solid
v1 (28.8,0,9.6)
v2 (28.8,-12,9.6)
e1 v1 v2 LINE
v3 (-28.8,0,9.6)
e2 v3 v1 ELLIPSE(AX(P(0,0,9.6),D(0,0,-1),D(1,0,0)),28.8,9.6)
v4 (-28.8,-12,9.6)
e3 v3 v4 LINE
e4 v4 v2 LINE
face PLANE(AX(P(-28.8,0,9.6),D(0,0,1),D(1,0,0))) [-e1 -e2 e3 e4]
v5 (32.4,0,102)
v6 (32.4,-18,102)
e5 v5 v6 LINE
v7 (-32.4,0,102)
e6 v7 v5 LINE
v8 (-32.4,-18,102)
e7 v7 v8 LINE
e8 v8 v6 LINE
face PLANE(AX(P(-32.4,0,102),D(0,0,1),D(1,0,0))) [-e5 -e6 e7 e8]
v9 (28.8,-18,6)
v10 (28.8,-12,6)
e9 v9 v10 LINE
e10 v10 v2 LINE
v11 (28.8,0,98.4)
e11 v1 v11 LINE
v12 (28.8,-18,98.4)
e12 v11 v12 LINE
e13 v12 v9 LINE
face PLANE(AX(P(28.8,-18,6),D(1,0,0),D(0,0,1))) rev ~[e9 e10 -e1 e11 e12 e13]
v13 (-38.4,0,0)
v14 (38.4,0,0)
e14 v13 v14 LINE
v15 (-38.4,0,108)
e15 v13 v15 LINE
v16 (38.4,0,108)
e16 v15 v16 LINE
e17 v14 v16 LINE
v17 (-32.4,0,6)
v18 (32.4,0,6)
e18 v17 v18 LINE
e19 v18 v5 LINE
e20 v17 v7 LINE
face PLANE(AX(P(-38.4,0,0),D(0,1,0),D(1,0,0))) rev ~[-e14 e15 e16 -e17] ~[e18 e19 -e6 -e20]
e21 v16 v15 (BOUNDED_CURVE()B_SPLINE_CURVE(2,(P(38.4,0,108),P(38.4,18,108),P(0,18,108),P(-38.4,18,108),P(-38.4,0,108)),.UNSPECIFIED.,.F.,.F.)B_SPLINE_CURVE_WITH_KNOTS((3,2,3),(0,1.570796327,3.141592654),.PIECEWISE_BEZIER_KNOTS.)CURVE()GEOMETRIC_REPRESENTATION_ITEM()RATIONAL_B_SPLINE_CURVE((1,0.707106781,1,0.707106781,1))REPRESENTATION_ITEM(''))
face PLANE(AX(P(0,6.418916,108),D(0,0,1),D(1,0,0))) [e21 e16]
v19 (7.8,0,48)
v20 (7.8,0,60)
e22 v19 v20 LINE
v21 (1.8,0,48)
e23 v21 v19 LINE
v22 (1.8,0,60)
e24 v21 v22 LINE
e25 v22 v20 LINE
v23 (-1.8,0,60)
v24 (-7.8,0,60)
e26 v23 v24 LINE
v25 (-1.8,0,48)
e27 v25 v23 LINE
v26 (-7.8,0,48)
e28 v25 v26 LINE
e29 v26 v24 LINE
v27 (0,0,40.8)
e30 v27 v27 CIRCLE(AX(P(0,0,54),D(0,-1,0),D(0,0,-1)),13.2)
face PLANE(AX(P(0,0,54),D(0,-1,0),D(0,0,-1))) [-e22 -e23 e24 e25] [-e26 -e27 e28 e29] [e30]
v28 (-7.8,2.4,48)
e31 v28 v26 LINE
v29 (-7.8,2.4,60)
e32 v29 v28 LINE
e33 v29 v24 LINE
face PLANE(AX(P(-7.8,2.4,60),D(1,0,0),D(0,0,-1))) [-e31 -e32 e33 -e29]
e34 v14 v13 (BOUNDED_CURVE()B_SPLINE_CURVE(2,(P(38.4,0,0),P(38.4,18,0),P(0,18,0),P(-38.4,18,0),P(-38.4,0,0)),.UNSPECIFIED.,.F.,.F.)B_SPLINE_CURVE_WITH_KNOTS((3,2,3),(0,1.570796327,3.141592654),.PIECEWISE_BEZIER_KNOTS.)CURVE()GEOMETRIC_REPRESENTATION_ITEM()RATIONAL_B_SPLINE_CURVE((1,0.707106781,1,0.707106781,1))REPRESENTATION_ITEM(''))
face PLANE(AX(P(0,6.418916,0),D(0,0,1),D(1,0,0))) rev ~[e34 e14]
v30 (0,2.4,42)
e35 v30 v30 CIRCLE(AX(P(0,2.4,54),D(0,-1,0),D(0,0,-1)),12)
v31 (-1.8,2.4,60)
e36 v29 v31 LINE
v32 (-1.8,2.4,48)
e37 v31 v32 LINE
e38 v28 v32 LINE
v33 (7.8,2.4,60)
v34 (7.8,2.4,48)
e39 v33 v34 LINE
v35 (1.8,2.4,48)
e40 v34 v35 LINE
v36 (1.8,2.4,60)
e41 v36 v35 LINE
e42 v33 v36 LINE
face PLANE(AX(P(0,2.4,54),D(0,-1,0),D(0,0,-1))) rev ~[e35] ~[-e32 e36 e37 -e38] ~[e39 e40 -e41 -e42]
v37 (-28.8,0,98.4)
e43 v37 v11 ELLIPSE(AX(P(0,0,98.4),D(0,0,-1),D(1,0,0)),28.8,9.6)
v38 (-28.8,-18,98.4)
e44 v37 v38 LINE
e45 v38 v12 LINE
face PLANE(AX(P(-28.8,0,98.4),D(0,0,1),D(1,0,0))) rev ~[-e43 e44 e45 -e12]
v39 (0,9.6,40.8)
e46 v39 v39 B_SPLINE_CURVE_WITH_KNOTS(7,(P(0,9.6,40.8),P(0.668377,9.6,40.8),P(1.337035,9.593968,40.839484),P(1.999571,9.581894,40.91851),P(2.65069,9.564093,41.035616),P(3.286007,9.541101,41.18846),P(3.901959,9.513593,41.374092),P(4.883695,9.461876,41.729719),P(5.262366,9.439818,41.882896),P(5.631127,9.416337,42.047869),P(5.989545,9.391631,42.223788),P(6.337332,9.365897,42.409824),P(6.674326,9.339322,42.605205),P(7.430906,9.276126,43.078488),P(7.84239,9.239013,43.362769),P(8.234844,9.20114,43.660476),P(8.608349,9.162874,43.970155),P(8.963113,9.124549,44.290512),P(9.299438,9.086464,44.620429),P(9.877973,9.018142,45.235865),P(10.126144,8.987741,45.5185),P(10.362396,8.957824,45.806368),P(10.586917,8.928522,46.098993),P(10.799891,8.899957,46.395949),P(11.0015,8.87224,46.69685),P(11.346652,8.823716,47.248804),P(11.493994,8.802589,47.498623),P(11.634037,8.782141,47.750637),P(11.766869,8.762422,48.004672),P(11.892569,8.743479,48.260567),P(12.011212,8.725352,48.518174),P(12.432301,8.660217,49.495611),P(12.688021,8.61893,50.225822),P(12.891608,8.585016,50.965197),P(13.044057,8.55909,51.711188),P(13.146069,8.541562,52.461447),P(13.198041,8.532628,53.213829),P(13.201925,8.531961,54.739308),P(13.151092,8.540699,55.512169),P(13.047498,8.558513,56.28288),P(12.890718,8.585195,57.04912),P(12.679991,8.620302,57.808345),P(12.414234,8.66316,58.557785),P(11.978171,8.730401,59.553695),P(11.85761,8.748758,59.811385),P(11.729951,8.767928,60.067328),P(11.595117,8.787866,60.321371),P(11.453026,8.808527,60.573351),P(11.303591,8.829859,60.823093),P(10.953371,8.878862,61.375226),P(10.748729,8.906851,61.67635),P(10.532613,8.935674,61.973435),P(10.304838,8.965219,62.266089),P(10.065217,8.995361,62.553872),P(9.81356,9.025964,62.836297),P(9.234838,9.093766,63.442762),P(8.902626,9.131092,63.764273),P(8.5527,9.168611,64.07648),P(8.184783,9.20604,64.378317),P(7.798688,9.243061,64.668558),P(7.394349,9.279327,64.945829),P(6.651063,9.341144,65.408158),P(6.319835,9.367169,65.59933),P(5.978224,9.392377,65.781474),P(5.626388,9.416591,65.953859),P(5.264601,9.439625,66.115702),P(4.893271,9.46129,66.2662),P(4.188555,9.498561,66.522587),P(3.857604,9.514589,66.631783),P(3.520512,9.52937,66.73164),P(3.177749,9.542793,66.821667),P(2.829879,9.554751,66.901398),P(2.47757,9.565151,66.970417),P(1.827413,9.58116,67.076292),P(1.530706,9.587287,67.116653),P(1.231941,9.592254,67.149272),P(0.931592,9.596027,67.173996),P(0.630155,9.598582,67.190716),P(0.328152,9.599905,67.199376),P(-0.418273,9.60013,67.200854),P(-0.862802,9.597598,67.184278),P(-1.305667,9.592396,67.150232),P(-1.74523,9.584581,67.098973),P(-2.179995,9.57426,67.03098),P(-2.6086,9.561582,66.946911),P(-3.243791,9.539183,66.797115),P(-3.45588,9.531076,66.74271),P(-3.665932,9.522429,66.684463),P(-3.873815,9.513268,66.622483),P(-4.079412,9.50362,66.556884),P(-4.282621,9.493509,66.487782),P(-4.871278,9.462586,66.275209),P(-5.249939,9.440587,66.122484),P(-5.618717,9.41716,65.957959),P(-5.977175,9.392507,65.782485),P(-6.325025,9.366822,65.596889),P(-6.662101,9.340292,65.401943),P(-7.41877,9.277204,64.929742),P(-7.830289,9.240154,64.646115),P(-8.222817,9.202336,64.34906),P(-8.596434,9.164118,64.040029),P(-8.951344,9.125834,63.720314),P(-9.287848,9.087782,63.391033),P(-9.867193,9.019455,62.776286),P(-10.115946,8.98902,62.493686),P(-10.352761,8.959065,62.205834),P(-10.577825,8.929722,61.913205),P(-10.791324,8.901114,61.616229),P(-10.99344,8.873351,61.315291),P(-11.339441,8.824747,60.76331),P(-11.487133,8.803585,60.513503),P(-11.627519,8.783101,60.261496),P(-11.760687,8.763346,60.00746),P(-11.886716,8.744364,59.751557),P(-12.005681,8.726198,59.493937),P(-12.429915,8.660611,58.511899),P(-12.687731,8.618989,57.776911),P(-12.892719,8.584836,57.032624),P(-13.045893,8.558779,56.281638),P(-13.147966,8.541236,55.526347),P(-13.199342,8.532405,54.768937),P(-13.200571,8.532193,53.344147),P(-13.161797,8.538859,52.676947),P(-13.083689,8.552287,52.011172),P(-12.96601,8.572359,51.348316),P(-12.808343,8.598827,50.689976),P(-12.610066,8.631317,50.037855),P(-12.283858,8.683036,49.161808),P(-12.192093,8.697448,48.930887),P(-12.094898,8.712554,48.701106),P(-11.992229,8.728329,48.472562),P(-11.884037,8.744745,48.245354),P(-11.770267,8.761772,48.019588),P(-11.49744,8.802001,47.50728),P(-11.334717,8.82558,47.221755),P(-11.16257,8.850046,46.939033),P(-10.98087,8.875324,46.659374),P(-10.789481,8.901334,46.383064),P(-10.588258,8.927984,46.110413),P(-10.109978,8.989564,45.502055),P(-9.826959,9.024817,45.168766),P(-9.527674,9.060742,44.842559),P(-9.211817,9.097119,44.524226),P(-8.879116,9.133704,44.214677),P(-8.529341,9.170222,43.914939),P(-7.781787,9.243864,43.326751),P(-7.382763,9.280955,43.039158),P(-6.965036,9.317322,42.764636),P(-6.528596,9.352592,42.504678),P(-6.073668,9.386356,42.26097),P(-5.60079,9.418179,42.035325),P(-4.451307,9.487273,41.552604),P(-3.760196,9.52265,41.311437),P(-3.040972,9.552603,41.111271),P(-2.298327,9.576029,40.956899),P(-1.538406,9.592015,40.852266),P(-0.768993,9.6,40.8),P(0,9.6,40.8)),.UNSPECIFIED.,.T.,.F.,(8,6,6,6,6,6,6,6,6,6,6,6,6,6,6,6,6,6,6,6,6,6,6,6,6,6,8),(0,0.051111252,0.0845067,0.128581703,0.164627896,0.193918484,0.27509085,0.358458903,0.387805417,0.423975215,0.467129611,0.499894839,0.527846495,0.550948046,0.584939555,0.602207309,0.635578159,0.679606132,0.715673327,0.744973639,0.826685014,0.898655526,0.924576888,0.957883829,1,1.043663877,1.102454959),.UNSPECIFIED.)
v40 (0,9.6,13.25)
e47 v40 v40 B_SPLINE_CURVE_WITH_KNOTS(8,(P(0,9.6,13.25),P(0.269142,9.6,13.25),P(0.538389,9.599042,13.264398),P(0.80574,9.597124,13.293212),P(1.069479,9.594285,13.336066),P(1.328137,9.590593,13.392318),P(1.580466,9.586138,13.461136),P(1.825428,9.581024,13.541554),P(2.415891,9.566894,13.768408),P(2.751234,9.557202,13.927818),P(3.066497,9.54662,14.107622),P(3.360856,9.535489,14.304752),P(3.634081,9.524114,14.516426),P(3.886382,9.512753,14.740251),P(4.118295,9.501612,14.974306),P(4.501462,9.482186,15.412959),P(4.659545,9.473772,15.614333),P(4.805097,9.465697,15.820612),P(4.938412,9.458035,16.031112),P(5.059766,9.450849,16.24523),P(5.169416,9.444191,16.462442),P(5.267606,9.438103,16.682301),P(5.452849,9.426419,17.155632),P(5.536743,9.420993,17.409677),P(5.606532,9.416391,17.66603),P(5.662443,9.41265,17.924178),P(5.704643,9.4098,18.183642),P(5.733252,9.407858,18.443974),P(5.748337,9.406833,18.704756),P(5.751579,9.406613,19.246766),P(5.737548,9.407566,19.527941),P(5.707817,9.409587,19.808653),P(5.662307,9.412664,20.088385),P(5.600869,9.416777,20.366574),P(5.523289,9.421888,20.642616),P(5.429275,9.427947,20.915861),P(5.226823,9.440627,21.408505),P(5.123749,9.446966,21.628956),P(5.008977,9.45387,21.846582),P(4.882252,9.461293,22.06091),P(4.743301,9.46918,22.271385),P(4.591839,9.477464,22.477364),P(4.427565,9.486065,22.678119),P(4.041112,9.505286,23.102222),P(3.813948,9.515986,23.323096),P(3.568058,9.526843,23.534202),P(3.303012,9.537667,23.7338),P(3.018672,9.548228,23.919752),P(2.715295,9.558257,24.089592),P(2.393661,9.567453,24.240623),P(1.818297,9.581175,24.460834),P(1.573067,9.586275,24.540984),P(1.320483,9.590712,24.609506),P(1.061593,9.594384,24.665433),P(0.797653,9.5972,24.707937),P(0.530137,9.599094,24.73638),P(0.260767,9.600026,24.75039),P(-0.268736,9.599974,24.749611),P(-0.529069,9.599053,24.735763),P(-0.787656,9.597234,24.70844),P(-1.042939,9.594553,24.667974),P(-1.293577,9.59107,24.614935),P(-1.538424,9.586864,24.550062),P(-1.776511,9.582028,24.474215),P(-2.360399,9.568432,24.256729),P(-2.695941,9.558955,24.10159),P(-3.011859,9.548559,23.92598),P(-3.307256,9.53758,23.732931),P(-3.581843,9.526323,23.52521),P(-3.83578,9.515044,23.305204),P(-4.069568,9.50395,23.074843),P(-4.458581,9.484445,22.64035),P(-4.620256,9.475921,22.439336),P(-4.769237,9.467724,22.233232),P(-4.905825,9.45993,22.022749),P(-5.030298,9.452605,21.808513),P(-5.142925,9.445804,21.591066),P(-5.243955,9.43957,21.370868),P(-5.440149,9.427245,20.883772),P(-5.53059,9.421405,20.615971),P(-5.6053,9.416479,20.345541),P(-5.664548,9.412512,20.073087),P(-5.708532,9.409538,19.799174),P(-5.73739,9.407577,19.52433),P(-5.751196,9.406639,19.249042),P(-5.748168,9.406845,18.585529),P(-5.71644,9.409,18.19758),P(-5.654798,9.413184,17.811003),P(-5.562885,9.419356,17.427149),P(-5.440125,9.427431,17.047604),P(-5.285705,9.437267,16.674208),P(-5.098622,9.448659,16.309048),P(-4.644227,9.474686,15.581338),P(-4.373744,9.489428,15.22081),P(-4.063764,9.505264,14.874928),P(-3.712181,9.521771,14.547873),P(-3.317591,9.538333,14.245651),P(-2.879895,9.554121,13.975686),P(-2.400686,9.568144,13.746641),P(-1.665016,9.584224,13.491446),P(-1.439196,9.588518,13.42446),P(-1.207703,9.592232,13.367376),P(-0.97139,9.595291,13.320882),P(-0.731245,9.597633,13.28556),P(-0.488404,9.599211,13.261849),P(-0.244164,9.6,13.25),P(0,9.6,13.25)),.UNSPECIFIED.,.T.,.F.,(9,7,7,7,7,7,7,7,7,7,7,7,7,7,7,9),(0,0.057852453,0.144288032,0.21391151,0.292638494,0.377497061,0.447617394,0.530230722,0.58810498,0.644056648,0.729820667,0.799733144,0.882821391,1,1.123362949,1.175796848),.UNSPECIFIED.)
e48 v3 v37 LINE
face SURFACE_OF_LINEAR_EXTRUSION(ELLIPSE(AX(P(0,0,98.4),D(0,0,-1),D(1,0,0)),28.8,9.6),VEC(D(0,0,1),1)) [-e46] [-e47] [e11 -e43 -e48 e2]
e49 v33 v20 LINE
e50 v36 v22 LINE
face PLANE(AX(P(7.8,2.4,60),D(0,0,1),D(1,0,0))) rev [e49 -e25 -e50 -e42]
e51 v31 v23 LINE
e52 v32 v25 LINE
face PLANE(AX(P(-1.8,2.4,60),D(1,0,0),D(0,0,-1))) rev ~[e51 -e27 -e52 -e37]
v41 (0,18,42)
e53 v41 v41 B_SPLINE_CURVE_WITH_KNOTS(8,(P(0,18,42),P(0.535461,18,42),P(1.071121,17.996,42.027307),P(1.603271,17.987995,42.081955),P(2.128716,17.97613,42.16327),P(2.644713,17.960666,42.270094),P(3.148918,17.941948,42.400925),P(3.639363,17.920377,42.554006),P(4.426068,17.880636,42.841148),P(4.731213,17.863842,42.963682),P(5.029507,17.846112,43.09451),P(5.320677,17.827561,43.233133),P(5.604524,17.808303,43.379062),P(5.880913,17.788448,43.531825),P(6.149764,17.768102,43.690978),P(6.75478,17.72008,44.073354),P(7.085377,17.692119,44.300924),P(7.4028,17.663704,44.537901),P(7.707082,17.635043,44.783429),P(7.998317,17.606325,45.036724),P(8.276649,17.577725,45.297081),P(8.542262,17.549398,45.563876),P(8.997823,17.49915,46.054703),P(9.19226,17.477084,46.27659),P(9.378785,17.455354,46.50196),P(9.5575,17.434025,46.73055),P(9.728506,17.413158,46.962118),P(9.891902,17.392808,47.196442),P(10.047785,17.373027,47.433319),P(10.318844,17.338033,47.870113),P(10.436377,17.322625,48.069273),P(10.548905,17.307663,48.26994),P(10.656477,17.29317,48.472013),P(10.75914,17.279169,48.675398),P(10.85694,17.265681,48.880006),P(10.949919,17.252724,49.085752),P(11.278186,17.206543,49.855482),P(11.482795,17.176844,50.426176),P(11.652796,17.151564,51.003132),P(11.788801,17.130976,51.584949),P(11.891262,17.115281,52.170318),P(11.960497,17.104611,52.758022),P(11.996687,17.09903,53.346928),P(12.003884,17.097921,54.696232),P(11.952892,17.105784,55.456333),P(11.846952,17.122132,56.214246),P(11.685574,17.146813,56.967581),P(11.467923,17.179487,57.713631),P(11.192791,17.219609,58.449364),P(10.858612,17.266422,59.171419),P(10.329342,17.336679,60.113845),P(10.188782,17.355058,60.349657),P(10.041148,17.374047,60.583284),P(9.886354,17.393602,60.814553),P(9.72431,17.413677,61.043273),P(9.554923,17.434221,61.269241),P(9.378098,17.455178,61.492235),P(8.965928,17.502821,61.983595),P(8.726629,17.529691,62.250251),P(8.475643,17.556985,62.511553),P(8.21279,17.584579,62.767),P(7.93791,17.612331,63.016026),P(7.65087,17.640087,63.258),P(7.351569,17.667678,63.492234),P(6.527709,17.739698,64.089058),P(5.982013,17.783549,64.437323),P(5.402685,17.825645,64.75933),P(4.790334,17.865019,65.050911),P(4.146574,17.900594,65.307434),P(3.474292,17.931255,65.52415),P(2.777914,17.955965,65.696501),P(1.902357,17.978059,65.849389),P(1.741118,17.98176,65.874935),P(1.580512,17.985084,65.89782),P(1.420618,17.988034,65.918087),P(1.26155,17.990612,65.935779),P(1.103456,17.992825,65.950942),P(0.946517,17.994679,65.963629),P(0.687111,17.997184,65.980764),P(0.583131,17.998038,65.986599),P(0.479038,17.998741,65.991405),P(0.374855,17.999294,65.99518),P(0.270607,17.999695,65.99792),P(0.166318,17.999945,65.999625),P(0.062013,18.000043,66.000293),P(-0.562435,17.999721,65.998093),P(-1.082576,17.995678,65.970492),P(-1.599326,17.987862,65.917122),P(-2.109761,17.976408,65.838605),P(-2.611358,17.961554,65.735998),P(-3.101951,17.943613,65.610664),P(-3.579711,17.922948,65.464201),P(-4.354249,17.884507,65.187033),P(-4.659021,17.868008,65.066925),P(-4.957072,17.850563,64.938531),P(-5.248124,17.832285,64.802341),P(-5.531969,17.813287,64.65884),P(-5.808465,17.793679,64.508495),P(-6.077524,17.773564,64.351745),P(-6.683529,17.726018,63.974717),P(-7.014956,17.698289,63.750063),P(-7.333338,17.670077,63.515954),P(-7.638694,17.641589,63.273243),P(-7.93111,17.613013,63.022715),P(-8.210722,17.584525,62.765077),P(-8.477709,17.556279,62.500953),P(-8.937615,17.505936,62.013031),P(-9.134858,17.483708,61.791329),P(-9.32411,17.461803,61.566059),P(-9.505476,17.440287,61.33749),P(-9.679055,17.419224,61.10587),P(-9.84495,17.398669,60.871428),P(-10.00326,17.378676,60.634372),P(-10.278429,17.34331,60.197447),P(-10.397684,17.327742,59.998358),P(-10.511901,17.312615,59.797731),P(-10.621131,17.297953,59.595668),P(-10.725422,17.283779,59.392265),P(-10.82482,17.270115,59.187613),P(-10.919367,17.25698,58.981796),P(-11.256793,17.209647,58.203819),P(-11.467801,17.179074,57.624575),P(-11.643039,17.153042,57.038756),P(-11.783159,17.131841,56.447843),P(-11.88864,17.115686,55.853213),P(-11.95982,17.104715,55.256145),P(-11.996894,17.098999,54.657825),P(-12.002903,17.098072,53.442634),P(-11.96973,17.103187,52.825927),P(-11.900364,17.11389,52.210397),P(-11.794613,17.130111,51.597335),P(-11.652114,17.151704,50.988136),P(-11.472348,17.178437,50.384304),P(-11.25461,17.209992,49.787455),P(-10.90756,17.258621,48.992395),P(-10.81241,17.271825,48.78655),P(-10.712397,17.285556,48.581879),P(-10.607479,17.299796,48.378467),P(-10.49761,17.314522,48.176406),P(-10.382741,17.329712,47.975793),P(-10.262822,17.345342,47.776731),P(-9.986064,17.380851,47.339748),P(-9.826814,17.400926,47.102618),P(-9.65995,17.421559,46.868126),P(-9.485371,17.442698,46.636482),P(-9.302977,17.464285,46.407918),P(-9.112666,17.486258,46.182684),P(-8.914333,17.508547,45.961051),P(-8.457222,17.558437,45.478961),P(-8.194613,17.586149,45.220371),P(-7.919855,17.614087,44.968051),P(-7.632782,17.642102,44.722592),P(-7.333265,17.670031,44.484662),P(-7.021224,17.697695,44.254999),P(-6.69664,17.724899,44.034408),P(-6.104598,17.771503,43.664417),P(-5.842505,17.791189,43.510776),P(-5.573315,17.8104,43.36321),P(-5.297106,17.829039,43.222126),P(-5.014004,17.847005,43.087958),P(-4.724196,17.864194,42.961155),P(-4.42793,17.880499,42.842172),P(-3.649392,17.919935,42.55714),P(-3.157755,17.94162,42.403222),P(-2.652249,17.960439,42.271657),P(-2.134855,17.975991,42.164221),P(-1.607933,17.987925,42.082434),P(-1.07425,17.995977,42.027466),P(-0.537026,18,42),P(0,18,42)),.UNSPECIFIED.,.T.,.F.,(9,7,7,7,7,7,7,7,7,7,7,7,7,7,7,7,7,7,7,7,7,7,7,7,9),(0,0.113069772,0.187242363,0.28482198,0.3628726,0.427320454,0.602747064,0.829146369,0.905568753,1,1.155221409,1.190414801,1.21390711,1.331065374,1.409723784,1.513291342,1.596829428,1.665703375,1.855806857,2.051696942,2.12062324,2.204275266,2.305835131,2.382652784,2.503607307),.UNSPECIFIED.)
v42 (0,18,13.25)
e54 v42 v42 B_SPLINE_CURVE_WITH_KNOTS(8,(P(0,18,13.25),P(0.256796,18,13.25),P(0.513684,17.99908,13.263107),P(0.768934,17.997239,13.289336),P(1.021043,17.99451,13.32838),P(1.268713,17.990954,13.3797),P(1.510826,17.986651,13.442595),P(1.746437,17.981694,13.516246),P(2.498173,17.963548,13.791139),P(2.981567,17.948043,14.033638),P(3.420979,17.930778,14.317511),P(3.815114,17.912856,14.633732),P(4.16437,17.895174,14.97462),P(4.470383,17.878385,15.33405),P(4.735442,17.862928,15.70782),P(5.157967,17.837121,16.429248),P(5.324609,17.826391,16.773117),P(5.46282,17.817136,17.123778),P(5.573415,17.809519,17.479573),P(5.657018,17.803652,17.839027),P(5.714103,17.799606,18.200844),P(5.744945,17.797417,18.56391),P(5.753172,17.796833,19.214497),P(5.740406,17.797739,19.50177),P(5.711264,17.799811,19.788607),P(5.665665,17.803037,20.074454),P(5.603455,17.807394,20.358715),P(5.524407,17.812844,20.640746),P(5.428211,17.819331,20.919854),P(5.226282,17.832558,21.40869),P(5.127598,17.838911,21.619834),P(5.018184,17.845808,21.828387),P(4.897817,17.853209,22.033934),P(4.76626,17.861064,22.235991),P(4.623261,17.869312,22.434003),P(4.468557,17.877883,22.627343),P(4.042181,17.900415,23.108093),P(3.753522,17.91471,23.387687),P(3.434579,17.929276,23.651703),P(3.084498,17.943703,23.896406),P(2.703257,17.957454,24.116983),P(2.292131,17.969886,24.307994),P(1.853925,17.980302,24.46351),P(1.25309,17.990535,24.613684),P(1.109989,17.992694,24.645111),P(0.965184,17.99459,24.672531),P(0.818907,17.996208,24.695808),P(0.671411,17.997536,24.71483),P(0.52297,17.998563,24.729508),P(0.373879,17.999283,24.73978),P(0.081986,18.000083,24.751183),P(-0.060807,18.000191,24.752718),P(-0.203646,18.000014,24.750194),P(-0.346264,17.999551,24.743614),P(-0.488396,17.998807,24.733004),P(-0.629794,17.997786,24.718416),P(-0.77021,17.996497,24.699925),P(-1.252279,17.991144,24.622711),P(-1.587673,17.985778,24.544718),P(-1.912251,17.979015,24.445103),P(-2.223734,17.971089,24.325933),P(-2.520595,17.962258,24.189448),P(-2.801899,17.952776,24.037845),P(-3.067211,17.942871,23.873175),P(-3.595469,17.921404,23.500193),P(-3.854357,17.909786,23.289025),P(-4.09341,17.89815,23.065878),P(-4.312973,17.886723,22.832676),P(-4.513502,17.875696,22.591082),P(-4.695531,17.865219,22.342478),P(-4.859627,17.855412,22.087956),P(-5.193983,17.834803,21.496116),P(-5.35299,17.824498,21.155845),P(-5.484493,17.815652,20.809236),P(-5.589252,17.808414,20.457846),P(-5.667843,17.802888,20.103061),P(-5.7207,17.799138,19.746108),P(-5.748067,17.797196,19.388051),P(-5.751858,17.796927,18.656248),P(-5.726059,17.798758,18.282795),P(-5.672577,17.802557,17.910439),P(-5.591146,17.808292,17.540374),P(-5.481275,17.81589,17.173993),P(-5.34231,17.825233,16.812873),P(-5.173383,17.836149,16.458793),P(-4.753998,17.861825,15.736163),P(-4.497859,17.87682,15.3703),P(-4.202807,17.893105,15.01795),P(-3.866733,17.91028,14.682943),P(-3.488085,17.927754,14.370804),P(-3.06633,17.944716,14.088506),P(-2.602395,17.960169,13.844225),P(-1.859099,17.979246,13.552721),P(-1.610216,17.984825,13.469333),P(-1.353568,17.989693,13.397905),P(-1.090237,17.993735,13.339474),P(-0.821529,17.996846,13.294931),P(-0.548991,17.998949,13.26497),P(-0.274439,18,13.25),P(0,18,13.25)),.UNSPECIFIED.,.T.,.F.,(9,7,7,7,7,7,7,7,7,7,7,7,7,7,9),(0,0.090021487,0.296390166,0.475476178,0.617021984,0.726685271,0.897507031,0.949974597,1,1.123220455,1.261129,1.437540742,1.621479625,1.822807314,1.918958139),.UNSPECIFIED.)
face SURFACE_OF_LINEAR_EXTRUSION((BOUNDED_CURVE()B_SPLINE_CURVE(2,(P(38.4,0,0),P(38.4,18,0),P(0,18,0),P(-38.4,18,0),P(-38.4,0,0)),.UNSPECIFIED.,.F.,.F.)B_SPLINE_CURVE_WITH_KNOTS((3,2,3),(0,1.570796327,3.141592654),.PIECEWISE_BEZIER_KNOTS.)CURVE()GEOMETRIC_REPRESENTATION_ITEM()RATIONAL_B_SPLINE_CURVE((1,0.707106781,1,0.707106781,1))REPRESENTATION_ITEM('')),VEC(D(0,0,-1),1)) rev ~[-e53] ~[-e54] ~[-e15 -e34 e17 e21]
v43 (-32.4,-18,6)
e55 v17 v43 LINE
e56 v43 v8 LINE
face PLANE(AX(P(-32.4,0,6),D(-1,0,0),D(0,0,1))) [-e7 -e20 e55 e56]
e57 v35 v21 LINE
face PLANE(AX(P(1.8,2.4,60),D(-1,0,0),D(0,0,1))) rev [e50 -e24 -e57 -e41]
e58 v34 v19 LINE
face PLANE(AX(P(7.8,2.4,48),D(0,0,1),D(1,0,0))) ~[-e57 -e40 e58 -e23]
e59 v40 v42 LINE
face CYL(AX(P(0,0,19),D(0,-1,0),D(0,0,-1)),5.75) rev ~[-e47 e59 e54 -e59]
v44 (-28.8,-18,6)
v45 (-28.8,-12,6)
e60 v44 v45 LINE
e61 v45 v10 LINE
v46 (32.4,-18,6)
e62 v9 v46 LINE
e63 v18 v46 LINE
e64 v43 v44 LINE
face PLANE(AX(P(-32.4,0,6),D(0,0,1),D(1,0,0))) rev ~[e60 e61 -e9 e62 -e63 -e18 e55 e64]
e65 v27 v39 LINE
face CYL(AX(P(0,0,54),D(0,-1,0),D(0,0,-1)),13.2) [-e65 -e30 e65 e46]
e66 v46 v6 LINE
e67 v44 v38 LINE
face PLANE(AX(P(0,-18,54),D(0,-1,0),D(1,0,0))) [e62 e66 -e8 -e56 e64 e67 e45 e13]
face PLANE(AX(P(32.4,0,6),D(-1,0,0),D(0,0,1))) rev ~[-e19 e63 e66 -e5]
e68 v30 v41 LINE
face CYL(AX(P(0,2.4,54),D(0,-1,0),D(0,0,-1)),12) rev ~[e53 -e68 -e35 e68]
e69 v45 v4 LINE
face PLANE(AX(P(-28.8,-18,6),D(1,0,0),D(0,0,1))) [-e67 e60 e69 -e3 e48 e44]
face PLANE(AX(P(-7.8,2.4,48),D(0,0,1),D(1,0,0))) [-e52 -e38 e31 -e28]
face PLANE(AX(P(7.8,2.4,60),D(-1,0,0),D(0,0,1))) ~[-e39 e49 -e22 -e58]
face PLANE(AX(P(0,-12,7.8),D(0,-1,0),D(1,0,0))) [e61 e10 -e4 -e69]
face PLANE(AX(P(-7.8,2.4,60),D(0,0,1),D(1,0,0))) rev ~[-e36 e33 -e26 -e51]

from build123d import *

# Parameters (mm, degrees)
EXTRUDE_1_DEPTH     = 90
SKETCH_2_W          = 54
SKETCH_2_H          = 80
SKETCH_2_W_2        = 48
SKETCH_2_H_2        = 74
EXTRUDE_2_DEPTH     = 15
SKETCH_3_W          = 48
SKETCH_3_H          = 3
CUT_EXTRUDE_1_DEPTH = 5
SKETCH_5_RX         = 24
SKETCH_5_RY         = 8
CUT_EXTRUDE_3_DEPTH = 74
EXTRUDE_9_REACH     = 98.69
SKETCH_15_R         = 11
SKETCH_16_R         = 10
CUT_EXTRUDE_4_DEPTH = 98.020616492
SKETCH_17_W         = 5
SKETCH_17_H         = 10
CUT_EXTRUDE_6_DEPTH = 98.020616492
SCALE_1_SCALE       = 1.2
SKETCH_18_R         = 5.75
CUT_EXTRUDE_7_DEPTH = 117.028272558


with BuildPart() as part:
    # 草图1 → 凸台-拉伸1 (new body)
    with BuildSketch(Plane.XY):
        with BuildLine():
            Line((-32, 0), (32, 0))
            add(Edge.make_bspline(
                [(32, 0), (32, 15), (0, 15), (-32, 15), (-32, 0)],
                knots=[0, 0, 0, 1.570796327, 1.570796327, 3.141592654, 3.141592654, 3.141592654], degree=2, weights=[1, 0.707106781, 1, 0.707106781, 1]))
        make_face()
    extrude(amount=EXTRUDE_1_DEPTH)

    # 草图2 → 凸台-拉伸2 (add)
    with BuildSketch(Plane.XZ):
        with Locations((0, 45)):
            Rectangle(SKETCH_2_W, SKETCH_2_H)
        with Locations((0, 45)):
            Rectangle(SKETCH_2_W_2, SKETCH_2_H_2, mode=Mode.SUBTRACT)
    extrude(amount=EXTRUDE_2_DEPTH)

    # 草图3 → 切除-拉伸1 (cut)
    with BuildSketch(Plane.XZ.offset(15)):
        with Locations((0, 6.5)):
            Rectangle(SKETCH_3_W, SKETCH_3_H)
    extrude(amount=-CUT_EXTRUDE_1_DEPTH, mode=Mode.SUBTRACT)

    # 草图5 → 切除-拉伸3 (cut)
    with BuildSketch(Plane(origin=(0, 0, 82), x_dir=(-1, 0, 0), z_dir=(0, 0, -1))):
        with Locations(Location((0, 0), (0, 0, 180))):
            Ellipse(SKETCH_5_RX, SKETCH_5_RY)
    extrude(amount=CUT_EXTRUDE_3_DEPTH, mode=Mode.SUBTRACT)

    # 草图15 → 凸台-拉伸9 (add, up to next)
    with BuildSketch(Plane(origin=(0, 0, 0), x_dir=(-1, 0, 0), z_dir=(0, -1, 0)), mode=Mode.PRIVATE) as extrude_9_sk1:
        with Locations(Location((0, -45, 0), (0, 0, 90))):
            Circle(SKETCH_15_R)
    extrude_9_tool1 = extrude(extrude_9_sk1.sketch, amount=-EXTRUDE_9_REACH, mode=Mode.PRIVATE) - part.part
    add(extrude_9_tool1.solids().sort_by_distance((0, 0, 45))[0])

    # 草图16 → 切除-拉伸4 (cut, through all)
    with BuildSketch(Plane(origin=(0, 2, 0), x_dir=(-1, 0, 0), z_dir=(0, -1, 0))):
        with Locations(Location((0, -45, 0), (0, 0, 90))):
            Circle(SKETCH_16_R)
    extrude(amount=-CUT_EXTRUDE_4_DEPTH, mode=Mode.SUBTRACT)

    # 草图17 → 切除-拉伸6 (cut, through all)
    with BuildSketch(Plane(origin=(0, 2, 0), x_dir=(1, 0, 0), z_dir=(0, 1, 0))):
        with Locations((-4, -45)):
            Rectangle(SKETCH_17_W, SKETCH_17_H)
    cut_extrude_6 = extrude(amount=-CUT_EXTRUDE_6_DEPTH, mode=Mode.SUBTRACT)

    # 镜向1: 切除-拉伸6 across plane
    add(cut_extrude_6.mirror(Plane(origin=(0, 0, 0), x_dir=(0, 0, 1), z_dir=(1, 0, 0))), mode=Mode.SUBTRACT)


with BuildPart() as part_1:
    # 缩放比例1: scaled about (0, 0, 0)
    add(part.part.scale(SCALE_1_SCALE))

    # 草图18 → 切除-拉伸7 (cut, through all)
    with BuildSketch(Plane.XZ):
        with Locations(Location((0, 19, 0), (0, 0, 270))):
            Circle(SKETCH_18_R)
    extrude(amount=-CUT_EXTRUDE_7_DEPTH, mode=Mode.SUBTRACT)


solid = part_1.part
